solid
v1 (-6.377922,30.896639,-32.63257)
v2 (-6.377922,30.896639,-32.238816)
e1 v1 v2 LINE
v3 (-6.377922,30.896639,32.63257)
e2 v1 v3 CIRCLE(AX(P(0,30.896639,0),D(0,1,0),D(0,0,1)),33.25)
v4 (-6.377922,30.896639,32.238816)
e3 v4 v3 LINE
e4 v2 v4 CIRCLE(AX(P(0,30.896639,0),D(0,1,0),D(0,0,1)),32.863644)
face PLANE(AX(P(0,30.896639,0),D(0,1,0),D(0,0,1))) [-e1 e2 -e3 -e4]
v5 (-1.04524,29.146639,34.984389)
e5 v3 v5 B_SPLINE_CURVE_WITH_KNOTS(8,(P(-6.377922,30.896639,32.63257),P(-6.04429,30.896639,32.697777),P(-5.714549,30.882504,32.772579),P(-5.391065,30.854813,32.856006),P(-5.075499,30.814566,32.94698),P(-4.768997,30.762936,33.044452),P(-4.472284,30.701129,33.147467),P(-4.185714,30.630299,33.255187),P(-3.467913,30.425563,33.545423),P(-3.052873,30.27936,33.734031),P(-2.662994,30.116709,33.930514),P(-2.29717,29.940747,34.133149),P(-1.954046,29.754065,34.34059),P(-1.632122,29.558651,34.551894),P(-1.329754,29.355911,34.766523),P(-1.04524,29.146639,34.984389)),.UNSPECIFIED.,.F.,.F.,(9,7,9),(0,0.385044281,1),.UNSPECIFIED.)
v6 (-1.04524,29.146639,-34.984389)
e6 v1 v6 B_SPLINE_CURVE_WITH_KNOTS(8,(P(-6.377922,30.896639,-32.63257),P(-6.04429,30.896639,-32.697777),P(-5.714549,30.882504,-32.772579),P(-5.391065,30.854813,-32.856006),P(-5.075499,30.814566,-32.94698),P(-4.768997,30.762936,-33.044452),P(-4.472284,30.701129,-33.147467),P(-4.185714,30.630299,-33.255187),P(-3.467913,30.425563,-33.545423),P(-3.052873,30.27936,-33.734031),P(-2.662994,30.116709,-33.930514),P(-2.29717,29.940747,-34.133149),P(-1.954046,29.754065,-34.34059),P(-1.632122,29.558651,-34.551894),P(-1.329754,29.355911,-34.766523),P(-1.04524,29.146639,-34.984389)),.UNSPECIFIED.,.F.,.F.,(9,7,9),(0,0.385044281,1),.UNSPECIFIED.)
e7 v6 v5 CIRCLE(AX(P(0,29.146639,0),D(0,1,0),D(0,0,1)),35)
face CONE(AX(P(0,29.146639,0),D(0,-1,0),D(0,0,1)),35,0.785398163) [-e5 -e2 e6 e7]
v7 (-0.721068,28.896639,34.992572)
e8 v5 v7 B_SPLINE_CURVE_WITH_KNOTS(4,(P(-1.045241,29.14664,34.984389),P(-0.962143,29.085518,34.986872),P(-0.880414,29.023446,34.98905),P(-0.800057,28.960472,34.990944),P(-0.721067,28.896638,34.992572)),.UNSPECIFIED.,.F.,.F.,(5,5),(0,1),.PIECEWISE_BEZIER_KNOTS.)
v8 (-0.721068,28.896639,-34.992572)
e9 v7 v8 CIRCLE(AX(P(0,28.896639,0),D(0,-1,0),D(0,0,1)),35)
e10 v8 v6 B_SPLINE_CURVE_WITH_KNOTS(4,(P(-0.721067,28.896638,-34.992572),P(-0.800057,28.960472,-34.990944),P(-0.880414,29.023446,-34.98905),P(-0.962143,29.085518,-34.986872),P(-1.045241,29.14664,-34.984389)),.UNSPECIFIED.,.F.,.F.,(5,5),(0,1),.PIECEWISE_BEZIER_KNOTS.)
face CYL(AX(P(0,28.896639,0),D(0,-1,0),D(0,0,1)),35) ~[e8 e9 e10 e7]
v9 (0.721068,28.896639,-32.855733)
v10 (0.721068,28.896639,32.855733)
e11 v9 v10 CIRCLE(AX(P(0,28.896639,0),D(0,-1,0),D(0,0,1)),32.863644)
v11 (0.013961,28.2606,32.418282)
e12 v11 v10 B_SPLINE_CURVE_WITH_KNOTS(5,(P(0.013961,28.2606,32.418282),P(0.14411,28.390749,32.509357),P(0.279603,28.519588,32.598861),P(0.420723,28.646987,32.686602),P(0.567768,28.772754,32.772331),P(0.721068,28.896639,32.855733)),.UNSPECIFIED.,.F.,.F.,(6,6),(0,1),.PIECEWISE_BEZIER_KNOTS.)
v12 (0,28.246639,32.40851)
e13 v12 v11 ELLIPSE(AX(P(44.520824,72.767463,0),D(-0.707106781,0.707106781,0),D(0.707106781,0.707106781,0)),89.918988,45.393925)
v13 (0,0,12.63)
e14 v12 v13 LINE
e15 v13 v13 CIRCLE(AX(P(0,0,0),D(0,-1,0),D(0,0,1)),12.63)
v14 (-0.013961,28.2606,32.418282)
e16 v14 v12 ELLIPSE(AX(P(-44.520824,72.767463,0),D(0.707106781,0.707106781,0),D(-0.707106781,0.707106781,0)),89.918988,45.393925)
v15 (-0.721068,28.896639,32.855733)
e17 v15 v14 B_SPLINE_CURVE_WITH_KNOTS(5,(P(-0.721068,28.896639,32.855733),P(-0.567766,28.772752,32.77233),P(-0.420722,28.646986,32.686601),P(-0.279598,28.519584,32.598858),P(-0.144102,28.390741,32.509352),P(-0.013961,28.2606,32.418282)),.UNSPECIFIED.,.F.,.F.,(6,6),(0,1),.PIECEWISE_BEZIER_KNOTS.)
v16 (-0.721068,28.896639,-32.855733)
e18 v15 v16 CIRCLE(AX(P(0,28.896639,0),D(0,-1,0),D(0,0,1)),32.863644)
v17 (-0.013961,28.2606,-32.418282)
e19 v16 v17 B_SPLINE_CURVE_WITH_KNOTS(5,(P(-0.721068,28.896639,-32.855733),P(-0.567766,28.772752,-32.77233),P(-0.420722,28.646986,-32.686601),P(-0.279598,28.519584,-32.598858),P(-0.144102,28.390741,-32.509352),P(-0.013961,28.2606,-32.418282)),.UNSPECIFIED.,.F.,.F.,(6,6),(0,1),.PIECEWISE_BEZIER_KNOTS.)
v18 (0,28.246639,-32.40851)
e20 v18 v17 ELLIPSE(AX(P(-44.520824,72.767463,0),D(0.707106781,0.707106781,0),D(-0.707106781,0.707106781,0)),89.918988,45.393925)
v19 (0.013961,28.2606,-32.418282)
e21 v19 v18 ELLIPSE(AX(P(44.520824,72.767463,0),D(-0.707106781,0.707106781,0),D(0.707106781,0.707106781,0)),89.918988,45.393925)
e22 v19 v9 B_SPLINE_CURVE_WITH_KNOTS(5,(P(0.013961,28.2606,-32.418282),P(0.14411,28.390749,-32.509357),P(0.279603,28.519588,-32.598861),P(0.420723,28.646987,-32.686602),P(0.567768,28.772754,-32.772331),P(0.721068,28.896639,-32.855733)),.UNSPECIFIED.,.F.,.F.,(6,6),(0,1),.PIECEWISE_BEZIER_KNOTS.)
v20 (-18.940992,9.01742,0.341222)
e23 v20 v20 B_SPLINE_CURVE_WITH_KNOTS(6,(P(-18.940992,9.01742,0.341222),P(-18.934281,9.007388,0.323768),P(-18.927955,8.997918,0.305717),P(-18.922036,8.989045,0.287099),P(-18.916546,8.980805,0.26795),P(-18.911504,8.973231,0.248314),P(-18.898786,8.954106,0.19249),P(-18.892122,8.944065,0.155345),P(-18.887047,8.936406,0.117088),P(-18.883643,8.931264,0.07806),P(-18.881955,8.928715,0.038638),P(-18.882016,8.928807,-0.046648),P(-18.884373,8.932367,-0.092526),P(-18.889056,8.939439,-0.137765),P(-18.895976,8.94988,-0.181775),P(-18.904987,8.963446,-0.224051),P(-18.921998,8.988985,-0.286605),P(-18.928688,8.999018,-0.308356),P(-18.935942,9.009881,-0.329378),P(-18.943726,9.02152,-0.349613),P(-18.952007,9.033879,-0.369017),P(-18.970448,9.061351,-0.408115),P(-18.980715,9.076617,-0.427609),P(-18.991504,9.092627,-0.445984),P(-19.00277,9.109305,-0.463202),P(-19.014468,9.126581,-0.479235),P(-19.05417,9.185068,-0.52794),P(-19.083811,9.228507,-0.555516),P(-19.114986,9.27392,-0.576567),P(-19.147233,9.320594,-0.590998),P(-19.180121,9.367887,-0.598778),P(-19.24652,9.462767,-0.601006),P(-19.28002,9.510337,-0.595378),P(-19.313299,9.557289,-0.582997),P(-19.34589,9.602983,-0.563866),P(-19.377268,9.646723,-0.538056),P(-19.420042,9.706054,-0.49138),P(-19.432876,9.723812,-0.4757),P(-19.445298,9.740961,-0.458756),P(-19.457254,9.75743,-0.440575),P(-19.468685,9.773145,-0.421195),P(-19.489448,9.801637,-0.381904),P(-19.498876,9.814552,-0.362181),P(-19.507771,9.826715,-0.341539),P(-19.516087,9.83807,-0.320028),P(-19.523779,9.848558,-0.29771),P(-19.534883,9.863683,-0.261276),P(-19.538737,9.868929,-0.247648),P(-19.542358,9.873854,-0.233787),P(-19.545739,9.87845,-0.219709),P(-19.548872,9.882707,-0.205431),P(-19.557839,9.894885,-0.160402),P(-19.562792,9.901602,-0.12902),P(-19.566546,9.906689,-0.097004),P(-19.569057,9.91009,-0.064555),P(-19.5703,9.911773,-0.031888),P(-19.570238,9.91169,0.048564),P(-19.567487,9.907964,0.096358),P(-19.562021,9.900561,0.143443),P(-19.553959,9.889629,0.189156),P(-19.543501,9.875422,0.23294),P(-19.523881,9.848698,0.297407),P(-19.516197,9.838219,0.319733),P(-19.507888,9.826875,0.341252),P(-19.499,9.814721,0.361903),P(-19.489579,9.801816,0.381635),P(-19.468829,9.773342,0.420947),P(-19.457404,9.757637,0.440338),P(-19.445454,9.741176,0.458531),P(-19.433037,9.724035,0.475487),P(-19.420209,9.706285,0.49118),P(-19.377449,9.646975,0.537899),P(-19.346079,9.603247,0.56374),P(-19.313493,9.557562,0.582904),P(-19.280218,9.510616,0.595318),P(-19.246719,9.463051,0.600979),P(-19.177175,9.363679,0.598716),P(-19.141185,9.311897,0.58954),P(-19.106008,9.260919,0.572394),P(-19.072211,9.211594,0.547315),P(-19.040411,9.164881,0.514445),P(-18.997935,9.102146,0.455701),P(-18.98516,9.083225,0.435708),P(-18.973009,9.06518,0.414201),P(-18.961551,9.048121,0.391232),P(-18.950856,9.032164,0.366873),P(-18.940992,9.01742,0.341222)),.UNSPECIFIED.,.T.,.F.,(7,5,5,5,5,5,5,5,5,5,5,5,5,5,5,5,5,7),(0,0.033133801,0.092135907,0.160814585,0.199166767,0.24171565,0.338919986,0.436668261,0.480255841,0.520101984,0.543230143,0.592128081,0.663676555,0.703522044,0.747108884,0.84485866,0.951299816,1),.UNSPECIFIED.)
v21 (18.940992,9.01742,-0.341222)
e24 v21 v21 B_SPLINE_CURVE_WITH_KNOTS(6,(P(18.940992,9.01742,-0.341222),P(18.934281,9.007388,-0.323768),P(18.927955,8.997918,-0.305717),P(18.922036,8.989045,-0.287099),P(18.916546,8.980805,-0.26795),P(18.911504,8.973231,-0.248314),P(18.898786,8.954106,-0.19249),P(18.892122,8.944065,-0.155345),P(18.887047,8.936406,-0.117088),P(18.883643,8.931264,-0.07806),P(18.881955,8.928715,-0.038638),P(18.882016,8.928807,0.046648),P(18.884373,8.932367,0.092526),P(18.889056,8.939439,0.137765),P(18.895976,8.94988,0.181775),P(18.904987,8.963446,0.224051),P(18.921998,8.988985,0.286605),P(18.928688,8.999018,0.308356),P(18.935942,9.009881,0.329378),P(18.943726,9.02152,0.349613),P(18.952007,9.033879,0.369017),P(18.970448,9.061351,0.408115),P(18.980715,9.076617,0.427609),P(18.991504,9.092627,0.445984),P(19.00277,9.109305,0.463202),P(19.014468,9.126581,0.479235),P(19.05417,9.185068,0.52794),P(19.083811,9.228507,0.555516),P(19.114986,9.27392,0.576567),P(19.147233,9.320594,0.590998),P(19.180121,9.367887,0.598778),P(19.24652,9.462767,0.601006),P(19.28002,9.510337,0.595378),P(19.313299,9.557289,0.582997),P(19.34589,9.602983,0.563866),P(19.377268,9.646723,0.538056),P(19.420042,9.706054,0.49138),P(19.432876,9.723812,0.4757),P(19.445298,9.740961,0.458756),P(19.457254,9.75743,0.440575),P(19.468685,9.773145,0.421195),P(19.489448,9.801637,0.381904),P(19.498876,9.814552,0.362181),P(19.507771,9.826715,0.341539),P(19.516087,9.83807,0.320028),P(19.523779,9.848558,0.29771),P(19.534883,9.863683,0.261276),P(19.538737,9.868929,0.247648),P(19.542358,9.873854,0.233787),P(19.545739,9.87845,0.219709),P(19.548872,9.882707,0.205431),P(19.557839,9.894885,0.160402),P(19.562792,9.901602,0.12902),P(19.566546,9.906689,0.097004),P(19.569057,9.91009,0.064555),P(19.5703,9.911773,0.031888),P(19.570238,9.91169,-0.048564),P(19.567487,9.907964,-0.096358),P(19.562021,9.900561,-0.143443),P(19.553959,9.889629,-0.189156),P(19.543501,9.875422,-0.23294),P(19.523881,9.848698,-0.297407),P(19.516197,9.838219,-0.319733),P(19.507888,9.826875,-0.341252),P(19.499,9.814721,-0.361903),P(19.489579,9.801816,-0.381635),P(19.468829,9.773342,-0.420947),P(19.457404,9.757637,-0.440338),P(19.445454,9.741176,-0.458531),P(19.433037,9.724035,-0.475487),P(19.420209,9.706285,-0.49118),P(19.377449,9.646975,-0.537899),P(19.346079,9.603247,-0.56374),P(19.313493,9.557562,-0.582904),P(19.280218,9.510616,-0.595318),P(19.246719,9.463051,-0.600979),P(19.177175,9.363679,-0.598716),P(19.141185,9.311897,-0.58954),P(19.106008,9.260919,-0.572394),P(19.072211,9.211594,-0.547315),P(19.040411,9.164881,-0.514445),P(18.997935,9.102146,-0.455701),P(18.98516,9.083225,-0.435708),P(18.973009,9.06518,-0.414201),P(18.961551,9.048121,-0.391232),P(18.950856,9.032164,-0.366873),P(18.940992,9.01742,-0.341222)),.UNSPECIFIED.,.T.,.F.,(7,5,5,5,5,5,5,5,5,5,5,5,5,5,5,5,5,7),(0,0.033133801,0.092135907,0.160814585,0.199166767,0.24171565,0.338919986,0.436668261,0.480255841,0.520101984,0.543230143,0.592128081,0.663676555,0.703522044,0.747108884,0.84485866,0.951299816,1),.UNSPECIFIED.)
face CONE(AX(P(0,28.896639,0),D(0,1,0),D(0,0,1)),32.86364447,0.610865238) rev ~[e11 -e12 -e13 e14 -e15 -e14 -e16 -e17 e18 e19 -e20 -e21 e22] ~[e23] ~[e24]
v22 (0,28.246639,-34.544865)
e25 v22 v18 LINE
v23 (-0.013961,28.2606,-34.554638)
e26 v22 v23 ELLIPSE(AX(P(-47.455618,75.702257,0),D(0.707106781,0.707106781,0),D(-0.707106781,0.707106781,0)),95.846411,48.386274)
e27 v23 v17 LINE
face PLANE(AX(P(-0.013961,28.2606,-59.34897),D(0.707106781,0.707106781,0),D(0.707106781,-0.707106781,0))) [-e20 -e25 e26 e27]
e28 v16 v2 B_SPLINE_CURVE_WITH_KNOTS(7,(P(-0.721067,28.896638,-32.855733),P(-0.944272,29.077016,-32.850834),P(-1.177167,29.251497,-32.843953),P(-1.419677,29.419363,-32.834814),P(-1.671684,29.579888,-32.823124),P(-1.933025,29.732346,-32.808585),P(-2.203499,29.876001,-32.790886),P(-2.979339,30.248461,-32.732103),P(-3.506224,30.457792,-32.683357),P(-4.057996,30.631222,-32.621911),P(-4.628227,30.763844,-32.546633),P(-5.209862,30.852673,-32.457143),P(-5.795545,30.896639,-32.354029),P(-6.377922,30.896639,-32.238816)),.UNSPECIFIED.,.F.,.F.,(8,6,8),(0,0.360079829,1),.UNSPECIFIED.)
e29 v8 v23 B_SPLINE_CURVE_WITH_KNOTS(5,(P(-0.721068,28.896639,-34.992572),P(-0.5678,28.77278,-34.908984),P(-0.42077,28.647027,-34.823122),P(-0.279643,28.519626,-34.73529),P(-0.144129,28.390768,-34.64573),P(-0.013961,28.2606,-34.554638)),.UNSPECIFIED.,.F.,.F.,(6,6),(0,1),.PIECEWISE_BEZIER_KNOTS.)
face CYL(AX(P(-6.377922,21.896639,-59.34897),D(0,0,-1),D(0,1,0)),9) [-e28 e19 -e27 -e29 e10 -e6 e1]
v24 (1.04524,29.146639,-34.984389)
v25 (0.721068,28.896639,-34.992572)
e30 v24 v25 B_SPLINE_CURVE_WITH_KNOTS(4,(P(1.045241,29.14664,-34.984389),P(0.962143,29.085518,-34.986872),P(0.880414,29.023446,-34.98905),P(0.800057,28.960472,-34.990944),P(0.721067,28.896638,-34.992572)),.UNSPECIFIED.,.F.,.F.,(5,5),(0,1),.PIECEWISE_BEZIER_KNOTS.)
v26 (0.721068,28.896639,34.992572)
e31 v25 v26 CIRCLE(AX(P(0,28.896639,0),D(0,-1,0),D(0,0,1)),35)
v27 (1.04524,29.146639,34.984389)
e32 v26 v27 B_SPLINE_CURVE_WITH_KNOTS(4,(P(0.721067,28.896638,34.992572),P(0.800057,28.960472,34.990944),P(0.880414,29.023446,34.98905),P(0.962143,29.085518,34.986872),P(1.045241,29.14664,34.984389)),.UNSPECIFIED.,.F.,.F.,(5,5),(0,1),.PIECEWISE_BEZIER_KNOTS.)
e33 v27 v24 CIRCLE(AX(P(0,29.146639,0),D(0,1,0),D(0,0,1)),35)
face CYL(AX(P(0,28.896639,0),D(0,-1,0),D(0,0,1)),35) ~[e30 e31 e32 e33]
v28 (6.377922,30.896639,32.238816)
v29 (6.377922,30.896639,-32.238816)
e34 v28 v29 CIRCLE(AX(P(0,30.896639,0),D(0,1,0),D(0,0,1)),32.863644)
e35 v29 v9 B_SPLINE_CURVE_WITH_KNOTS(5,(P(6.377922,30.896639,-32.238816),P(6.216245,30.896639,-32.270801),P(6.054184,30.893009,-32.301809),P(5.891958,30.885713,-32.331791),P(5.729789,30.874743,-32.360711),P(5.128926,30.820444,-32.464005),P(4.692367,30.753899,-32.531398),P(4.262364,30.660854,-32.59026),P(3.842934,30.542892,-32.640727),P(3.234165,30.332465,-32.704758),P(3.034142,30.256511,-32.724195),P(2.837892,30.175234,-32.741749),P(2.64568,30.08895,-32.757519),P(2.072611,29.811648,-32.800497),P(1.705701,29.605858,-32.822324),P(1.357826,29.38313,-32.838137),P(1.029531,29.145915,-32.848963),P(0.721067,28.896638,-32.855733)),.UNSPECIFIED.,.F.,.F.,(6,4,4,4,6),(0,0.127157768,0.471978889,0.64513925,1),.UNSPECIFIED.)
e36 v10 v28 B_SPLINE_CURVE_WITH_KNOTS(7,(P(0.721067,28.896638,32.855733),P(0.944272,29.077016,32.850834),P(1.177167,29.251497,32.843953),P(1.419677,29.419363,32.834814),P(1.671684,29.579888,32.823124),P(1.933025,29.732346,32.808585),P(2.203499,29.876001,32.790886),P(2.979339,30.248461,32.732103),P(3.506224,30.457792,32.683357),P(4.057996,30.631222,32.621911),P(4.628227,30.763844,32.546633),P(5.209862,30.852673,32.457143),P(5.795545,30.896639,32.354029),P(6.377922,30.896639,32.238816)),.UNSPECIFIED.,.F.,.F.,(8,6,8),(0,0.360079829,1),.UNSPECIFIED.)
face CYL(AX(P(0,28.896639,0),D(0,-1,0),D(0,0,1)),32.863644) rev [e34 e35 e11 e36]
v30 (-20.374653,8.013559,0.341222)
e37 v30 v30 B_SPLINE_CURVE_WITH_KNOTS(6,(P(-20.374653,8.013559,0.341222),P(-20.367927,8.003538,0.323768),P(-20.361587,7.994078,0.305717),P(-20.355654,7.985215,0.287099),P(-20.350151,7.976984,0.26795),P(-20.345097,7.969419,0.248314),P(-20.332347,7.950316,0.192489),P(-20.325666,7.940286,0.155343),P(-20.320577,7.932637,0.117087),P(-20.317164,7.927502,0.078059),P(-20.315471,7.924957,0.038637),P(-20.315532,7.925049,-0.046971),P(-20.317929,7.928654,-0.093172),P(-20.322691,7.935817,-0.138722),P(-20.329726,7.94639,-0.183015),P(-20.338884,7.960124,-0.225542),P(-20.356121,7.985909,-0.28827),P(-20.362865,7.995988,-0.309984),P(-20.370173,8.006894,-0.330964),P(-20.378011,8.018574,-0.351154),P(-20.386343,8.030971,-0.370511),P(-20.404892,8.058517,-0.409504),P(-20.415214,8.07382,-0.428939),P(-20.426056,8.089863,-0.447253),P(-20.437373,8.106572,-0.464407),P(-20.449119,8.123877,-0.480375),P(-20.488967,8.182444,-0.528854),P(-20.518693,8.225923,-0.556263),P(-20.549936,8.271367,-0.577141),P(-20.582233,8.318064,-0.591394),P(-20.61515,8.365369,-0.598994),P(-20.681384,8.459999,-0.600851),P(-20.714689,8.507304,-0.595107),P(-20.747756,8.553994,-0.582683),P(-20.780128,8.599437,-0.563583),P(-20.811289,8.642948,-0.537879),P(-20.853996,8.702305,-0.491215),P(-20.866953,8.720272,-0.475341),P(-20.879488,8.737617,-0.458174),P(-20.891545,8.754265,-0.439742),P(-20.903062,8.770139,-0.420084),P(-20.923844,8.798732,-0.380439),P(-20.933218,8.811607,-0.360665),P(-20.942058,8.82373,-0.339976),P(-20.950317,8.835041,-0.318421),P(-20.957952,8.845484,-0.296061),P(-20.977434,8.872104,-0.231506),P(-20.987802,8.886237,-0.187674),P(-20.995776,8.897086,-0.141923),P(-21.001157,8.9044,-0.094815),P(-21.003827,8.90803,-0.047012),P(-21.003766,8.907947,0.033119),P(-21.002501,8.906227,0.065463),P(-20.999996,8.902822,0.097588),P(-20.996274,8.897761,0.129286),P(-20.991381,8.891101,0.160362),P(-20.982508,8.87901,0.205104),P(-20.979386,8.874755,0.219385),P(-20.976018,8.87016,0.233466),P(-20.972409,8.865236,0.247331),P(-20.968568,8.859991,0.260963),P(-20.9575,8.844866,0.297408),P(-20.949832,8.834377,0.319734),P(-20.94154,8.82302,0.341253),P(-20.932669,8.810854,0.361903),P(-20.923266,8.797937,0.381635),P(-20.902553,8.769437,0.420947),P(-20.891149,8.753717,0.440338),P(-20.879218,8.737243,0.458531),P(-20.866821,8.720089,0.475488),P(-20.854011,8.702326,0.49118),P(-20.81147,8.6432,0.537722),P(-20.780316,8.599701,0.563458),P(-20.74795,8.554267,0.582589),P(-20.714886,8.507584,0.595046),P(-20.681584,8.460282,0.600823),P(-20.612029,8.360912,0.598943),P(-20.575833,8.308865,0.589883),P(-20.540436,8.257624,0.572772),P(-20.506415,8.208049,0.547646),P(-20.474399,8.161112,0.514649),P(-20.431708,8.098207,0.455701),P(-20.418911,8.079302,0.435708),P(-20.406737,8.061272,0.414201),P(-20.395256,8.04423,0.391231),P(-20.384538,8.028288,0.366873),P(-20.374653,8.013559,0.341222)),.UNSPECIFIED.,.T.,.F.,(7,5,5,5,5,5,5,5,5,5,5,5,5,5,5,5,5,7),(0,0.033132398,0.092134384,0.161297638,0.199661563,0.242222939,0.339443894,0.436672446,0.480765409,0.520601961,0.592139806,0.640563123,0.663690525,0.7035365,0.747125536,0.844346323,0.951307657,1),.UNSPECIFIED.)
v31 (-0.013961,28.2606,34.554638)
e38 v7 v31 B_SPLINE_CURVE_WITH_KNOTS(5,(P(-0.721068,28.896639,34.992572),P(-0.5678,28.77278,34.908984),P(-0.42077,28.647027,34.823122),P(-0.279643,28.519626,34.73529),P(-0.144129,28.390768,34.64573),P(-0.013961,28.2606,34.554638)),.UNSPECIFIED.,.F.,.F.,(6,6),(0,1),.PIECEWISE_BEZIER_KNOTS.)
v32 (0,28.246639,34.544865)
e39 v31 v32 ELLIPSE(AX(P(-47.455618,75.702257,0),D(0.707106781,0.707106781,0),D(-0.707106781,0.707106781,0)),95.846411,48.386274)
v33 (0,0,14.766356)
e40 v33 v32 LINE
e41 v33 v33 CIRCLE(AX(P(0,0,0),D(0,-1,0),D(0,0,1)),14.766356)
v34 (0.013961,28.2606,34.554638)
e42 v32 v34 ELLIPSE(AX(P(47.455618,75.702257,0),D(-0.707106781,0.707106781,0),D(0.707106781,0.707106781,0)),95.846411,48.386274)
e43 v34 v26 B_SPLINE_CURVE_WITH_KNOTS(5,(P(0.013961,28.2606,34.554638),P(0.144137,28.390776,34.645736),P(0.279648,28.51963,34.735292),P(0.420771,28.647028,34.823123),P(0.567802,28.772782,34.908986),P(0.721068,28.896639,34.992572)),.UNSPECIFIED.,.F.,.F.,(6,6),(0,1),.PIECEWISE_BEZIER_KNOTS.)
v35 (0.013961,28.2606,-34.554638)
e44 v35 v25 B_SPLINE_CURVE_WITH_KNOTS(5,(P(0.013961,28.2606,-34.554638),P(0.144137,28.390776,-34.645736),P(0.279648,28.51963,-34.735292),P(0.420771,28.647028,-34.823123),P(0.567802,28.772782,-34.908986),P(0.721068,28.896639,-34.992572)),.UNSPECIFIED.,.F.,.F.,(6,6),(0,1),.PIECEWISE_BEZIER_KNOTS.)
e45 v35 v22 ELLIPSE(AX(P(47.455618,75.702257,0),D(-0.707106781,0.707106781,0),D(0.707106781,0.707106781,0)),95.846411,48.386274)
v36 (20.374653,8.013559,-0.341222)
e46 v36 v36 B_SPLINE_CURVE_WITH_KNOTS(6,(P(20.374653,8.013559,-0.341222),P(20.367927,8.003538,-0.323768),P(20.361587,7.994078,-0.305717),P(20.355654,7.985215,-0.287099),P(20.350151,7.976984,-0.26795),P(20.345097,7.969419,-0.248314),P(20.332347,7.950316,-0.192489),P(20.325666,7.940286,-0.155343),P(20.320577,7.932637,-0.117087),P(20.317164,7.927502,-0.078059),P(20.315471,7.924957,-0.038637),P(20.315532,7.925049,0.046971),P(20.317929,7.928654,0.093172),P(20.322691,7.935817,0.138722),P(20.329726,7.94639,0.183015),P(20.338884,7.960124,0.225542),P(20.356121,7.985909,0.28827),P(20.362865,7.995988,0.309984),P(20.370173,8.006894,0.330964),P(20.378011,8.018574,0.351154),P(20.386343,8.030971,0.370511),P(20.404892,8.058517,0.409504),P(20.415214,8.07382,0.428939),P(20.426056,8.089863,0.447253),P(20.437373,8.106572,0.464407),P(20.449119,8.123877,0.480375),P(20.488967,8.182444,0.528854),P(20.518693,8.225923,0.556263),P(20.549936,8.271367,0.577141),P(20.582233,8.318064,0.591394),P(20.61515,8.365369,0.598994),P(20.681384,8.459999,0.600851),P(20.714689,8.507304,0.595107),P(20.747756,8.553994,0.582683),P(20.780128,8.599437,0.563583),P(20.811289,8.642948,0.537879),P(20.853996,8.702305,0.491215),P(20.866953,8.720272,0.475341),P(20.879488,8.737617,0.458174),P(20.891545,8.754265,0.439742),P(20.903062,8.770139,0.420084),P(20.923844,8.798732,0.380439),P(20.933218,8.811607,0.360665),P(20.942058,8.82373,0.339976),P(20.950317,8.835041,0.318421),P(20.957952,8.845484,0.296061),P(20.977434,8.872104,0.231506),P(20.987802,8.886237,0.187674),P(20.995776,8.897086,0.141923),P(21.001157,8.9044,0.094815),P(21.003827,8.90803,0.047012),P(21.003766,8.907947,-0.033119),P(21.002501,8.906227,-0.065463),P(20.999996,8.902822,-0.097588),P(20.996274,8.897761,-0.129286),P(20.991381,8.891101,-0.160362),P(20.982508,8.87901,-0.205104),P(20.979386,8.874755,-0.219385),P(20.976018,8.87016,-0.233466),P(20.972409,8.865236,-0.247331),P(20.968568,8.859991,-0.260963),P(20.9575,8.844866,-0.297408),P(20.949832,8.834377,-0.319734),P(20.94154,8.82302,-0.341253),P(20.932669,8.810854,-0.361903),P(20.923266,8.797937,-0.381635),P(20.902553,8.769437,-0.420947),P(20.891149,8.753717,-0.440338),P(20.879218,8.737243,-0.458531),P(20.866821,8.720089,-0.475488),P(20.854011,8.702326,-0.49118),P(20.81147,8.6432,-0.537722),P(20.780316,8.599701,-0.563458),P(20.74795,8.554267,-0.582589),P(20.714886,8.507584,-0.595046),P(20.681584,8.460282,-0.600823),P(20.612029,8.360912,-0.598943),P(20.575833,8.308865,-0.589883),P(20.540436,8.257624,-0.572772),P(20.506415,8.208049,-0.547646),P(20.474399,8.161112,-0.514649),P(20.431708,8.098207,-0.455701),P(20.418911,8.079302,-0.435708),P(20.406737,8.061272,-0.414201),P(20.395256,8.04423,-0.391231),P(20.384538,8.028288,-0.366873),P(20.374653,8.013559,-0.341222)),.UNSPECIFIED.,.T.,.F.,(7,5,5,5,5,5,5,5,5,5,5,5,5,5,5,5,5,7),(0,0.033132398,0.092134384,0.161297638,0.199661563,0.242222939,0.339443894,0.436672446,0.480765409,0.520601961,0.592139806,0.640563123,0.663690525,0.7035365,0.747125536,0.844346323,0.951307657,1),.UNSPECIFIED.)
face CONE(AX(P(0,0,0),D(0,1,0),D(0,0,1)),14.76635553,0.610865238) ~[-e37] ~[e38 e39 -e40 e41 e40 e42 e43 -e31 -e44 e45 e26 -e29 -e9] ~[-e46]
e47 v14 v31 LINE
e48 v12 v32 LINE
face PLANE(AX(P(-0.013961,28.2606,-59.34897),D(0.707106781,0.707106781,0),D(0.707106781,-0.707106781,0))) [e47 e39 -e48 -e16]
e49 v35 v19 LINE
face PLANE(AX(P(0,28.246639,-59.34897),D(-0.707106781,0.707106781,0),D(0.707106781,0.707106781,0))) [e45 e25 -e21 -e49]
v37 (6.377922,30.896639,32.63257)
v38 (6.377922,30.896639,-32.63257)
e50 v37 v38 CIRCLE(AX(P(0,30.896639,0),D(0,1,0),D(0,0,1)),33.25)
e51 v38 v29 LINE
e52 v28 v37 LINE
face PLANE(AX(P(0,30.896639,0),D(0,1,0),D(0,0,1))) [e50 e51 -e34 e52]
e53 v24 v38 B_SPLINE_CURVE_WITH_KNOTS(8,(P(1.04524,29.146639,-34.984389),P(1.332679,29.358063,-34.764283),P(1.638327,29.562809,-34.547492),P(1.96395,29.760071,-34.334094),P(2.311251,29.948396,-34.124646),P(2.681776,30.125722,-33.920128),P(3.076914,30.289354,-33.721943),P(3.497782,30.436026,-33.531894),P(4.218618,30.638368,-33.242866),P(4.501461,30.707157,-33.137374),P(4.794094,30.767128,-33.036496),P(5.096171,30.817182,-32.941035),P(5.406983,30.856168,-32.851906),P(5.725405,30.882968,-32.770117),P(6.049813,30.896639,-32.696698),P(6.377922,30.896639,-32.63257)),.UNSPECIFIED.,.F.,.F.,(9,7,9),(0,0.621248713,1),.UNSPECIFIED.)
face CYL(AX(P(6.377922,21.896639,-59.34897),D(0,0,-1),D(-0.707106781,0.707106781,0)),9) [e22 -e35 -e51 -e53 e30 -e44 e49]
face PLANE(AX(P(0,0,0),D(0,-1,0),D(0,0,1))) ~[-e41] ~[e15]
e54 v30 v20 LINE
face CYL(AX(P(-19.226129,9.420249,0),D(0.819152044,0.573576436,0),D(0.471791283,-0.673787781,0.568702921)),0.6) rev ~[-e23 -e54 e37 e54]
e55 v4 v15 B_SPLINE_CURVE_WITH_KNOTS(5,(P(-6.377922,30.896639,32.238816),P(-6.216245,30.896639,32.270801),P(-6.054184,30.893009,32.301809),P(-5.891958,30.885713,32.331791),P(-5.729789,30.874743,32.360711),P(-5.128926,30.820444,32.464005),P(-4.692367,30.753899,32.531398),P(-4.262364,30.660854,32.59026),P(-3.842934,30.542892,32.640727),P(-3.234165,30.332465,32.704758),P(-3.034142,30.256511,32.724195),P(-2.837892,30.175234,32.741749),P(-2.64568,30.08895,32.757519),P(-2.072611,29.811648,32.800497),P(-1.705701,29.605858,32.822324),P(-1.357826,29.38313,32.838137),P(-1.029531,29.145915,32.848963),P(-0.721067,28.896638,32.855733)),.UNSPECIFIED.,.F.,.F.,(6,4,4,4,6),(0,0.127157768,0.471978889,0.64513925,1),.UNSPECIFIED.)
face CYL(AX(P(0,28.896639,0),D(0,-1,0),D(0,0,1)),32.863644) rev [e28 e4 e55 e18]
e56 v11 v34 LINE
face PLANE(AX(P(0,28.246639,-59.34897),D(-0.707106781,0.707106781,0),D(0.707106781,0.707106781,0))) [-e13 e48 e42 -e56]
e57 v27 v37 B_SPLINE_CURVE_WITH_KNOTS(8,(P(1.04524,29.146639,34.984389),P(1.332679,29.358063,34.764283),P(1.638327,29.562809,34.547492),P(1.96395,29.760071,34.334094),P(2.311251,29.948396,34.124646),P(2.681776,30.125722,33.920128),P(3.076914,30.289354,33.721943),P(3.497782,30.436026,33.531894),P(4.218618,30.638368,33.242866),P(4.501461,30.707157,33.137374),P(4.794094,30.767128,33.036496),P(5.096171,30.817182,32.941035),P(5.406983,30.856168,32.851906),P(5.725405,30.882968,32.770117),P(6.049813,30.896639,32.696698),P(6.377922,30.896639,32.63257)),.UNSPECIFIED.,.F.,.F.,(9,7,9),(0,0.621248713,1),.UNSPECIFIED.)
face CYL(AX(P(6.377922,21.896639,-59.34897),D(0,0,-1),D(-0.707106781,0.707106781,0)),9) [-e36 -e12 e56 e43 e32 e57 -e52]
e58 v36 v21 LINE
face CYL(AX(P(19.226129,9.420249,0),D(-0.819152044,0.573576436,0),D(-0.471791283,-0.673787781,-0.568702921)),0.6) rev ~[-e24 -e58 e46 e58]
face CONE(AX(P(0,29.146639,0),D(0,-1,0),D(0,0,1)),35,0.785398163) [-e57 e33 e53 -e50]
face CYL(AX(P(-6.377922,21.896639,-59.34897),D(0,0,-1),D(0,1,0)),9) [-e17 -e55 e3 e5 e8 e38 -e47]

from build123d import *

# Parameters (mm, degrees)
SKETCH36_R              = 0.6
SIDE_HOLES_DEPTH        = 2
CIRPATTERN2_COUNT       = 2
SKETCH37_R              = 35
SKETCH37_R_2            = 32.86364447
BOSS_EXTRUDE1_DEPTH     = 2
CHAMFER2_SIZE           = 1.75
CUT_EXTRUDE1_DEPTH      = 59.348970142
CUT_EXTRUDE1_DEPTH_BACK = 59.348970142


with BuildPart() as part:
    # Sketch35 → Revolve1 (revolve)
    with BuildSketch(Plane.XY, mode=Mode.PRIVATE) as revolve1_sk:
        Polygon((32.86364447, 28.896639018), (12.63, 0), (14.76635553, 0), (35, 28.896639018), align=None)
    revolve(revolve1_sk.sketch.rotate(Axis((0, 28.896639018, 0), (0, -1, 0)), 90), axis=Axis((0, 28.896639018, 0), (0, -1, 0)))

    # Sketch36 → side-holes (cut, symmetric)
    with BuildSketch(Plane(origin=(8.474857205, -5.9341589, 0), x_dir=(0, 0, 1), z_dir=(-0.8191520442889934, 0.5735764363510439, 0))):
        with Locations(Location((0, 18.744270391, 0), (0, 0, 235.340174101))):
            Circle(SKETCH36_R)
    side_holes = extrude(amount=SIDE_HOLES_DEPTH, both=True, mode=Mode.SUBTRACT)

    # CirPattern2: side-holes ×2 about axis
    cirpattern2_axis = Axis((0, 0, 0), (0, 1, 0))
    for i in range(1, CIRPATTERN2_COUNT):
        add(side_holes.rotate(cirpattern2_axis, i * 360 / CIRPATTERN2_COUNT), mode=Mode.SUBTRACT)

    # Sketch37 → Boss-Extrude1 (add)
    with BuildSketch(Plane(origin=(0, 28.896639018, 0), x_dir=(1, 0, 0), z_dir=(0, 1, 0))):
        with Locations(Location((0, 0, 0), (0, 0, 270))):
            Circle(SKETCH37_R)
        with Locations(Location((0, 0, 0), (0, 0, 270))):
            Circle(SKETCH37_R_2, mode=Mode.SUBTRACT)
    extrude(amount=BOSS_EXTRUDE1_DEPTH)

    # Chamfer2
    chamfer2_edges = [part.edges().sort_by_distance(p)[0] for p in [
        (0, 30.896639018, -35),
    ]]
    chamfer(chamfer2_edges, length=CHAMFER2_SIZE)

    # Sketch38 → Cut-Extrude1 (cut, two sides: drawn at the far end of the back side and taken through both)
    with BuildSketch(Plane.XY.offset(-CUT_EXTRUDE1_DEPTH_BACK)):
        with BuildLine():
            Line((-0.013961031, 28.260600049), (0, 28.246639018))
            Line((0, 28.246639018), (0.013961031, 28.260600049))
            ThreePointArc((0.013961031, 28.260600049), (2.93377117, 30.211554811), (6.377922061, 30.896639018))
            Line((6.377922061, 30.896639018), (-6.377922061, 30.896639018))
            ThreePointArc((-6.377922061, 30.896639018), (-2.93377117, 30.211554811), (-0.013961031, 28.260600049))
        make_face()
    extrude(amount=CUT_EXTRUDE1_DEPTH + CUT_EXTRUDE1_DEPTH_BACK, mode=Mode.SUBTRACT)


solid = part.part
